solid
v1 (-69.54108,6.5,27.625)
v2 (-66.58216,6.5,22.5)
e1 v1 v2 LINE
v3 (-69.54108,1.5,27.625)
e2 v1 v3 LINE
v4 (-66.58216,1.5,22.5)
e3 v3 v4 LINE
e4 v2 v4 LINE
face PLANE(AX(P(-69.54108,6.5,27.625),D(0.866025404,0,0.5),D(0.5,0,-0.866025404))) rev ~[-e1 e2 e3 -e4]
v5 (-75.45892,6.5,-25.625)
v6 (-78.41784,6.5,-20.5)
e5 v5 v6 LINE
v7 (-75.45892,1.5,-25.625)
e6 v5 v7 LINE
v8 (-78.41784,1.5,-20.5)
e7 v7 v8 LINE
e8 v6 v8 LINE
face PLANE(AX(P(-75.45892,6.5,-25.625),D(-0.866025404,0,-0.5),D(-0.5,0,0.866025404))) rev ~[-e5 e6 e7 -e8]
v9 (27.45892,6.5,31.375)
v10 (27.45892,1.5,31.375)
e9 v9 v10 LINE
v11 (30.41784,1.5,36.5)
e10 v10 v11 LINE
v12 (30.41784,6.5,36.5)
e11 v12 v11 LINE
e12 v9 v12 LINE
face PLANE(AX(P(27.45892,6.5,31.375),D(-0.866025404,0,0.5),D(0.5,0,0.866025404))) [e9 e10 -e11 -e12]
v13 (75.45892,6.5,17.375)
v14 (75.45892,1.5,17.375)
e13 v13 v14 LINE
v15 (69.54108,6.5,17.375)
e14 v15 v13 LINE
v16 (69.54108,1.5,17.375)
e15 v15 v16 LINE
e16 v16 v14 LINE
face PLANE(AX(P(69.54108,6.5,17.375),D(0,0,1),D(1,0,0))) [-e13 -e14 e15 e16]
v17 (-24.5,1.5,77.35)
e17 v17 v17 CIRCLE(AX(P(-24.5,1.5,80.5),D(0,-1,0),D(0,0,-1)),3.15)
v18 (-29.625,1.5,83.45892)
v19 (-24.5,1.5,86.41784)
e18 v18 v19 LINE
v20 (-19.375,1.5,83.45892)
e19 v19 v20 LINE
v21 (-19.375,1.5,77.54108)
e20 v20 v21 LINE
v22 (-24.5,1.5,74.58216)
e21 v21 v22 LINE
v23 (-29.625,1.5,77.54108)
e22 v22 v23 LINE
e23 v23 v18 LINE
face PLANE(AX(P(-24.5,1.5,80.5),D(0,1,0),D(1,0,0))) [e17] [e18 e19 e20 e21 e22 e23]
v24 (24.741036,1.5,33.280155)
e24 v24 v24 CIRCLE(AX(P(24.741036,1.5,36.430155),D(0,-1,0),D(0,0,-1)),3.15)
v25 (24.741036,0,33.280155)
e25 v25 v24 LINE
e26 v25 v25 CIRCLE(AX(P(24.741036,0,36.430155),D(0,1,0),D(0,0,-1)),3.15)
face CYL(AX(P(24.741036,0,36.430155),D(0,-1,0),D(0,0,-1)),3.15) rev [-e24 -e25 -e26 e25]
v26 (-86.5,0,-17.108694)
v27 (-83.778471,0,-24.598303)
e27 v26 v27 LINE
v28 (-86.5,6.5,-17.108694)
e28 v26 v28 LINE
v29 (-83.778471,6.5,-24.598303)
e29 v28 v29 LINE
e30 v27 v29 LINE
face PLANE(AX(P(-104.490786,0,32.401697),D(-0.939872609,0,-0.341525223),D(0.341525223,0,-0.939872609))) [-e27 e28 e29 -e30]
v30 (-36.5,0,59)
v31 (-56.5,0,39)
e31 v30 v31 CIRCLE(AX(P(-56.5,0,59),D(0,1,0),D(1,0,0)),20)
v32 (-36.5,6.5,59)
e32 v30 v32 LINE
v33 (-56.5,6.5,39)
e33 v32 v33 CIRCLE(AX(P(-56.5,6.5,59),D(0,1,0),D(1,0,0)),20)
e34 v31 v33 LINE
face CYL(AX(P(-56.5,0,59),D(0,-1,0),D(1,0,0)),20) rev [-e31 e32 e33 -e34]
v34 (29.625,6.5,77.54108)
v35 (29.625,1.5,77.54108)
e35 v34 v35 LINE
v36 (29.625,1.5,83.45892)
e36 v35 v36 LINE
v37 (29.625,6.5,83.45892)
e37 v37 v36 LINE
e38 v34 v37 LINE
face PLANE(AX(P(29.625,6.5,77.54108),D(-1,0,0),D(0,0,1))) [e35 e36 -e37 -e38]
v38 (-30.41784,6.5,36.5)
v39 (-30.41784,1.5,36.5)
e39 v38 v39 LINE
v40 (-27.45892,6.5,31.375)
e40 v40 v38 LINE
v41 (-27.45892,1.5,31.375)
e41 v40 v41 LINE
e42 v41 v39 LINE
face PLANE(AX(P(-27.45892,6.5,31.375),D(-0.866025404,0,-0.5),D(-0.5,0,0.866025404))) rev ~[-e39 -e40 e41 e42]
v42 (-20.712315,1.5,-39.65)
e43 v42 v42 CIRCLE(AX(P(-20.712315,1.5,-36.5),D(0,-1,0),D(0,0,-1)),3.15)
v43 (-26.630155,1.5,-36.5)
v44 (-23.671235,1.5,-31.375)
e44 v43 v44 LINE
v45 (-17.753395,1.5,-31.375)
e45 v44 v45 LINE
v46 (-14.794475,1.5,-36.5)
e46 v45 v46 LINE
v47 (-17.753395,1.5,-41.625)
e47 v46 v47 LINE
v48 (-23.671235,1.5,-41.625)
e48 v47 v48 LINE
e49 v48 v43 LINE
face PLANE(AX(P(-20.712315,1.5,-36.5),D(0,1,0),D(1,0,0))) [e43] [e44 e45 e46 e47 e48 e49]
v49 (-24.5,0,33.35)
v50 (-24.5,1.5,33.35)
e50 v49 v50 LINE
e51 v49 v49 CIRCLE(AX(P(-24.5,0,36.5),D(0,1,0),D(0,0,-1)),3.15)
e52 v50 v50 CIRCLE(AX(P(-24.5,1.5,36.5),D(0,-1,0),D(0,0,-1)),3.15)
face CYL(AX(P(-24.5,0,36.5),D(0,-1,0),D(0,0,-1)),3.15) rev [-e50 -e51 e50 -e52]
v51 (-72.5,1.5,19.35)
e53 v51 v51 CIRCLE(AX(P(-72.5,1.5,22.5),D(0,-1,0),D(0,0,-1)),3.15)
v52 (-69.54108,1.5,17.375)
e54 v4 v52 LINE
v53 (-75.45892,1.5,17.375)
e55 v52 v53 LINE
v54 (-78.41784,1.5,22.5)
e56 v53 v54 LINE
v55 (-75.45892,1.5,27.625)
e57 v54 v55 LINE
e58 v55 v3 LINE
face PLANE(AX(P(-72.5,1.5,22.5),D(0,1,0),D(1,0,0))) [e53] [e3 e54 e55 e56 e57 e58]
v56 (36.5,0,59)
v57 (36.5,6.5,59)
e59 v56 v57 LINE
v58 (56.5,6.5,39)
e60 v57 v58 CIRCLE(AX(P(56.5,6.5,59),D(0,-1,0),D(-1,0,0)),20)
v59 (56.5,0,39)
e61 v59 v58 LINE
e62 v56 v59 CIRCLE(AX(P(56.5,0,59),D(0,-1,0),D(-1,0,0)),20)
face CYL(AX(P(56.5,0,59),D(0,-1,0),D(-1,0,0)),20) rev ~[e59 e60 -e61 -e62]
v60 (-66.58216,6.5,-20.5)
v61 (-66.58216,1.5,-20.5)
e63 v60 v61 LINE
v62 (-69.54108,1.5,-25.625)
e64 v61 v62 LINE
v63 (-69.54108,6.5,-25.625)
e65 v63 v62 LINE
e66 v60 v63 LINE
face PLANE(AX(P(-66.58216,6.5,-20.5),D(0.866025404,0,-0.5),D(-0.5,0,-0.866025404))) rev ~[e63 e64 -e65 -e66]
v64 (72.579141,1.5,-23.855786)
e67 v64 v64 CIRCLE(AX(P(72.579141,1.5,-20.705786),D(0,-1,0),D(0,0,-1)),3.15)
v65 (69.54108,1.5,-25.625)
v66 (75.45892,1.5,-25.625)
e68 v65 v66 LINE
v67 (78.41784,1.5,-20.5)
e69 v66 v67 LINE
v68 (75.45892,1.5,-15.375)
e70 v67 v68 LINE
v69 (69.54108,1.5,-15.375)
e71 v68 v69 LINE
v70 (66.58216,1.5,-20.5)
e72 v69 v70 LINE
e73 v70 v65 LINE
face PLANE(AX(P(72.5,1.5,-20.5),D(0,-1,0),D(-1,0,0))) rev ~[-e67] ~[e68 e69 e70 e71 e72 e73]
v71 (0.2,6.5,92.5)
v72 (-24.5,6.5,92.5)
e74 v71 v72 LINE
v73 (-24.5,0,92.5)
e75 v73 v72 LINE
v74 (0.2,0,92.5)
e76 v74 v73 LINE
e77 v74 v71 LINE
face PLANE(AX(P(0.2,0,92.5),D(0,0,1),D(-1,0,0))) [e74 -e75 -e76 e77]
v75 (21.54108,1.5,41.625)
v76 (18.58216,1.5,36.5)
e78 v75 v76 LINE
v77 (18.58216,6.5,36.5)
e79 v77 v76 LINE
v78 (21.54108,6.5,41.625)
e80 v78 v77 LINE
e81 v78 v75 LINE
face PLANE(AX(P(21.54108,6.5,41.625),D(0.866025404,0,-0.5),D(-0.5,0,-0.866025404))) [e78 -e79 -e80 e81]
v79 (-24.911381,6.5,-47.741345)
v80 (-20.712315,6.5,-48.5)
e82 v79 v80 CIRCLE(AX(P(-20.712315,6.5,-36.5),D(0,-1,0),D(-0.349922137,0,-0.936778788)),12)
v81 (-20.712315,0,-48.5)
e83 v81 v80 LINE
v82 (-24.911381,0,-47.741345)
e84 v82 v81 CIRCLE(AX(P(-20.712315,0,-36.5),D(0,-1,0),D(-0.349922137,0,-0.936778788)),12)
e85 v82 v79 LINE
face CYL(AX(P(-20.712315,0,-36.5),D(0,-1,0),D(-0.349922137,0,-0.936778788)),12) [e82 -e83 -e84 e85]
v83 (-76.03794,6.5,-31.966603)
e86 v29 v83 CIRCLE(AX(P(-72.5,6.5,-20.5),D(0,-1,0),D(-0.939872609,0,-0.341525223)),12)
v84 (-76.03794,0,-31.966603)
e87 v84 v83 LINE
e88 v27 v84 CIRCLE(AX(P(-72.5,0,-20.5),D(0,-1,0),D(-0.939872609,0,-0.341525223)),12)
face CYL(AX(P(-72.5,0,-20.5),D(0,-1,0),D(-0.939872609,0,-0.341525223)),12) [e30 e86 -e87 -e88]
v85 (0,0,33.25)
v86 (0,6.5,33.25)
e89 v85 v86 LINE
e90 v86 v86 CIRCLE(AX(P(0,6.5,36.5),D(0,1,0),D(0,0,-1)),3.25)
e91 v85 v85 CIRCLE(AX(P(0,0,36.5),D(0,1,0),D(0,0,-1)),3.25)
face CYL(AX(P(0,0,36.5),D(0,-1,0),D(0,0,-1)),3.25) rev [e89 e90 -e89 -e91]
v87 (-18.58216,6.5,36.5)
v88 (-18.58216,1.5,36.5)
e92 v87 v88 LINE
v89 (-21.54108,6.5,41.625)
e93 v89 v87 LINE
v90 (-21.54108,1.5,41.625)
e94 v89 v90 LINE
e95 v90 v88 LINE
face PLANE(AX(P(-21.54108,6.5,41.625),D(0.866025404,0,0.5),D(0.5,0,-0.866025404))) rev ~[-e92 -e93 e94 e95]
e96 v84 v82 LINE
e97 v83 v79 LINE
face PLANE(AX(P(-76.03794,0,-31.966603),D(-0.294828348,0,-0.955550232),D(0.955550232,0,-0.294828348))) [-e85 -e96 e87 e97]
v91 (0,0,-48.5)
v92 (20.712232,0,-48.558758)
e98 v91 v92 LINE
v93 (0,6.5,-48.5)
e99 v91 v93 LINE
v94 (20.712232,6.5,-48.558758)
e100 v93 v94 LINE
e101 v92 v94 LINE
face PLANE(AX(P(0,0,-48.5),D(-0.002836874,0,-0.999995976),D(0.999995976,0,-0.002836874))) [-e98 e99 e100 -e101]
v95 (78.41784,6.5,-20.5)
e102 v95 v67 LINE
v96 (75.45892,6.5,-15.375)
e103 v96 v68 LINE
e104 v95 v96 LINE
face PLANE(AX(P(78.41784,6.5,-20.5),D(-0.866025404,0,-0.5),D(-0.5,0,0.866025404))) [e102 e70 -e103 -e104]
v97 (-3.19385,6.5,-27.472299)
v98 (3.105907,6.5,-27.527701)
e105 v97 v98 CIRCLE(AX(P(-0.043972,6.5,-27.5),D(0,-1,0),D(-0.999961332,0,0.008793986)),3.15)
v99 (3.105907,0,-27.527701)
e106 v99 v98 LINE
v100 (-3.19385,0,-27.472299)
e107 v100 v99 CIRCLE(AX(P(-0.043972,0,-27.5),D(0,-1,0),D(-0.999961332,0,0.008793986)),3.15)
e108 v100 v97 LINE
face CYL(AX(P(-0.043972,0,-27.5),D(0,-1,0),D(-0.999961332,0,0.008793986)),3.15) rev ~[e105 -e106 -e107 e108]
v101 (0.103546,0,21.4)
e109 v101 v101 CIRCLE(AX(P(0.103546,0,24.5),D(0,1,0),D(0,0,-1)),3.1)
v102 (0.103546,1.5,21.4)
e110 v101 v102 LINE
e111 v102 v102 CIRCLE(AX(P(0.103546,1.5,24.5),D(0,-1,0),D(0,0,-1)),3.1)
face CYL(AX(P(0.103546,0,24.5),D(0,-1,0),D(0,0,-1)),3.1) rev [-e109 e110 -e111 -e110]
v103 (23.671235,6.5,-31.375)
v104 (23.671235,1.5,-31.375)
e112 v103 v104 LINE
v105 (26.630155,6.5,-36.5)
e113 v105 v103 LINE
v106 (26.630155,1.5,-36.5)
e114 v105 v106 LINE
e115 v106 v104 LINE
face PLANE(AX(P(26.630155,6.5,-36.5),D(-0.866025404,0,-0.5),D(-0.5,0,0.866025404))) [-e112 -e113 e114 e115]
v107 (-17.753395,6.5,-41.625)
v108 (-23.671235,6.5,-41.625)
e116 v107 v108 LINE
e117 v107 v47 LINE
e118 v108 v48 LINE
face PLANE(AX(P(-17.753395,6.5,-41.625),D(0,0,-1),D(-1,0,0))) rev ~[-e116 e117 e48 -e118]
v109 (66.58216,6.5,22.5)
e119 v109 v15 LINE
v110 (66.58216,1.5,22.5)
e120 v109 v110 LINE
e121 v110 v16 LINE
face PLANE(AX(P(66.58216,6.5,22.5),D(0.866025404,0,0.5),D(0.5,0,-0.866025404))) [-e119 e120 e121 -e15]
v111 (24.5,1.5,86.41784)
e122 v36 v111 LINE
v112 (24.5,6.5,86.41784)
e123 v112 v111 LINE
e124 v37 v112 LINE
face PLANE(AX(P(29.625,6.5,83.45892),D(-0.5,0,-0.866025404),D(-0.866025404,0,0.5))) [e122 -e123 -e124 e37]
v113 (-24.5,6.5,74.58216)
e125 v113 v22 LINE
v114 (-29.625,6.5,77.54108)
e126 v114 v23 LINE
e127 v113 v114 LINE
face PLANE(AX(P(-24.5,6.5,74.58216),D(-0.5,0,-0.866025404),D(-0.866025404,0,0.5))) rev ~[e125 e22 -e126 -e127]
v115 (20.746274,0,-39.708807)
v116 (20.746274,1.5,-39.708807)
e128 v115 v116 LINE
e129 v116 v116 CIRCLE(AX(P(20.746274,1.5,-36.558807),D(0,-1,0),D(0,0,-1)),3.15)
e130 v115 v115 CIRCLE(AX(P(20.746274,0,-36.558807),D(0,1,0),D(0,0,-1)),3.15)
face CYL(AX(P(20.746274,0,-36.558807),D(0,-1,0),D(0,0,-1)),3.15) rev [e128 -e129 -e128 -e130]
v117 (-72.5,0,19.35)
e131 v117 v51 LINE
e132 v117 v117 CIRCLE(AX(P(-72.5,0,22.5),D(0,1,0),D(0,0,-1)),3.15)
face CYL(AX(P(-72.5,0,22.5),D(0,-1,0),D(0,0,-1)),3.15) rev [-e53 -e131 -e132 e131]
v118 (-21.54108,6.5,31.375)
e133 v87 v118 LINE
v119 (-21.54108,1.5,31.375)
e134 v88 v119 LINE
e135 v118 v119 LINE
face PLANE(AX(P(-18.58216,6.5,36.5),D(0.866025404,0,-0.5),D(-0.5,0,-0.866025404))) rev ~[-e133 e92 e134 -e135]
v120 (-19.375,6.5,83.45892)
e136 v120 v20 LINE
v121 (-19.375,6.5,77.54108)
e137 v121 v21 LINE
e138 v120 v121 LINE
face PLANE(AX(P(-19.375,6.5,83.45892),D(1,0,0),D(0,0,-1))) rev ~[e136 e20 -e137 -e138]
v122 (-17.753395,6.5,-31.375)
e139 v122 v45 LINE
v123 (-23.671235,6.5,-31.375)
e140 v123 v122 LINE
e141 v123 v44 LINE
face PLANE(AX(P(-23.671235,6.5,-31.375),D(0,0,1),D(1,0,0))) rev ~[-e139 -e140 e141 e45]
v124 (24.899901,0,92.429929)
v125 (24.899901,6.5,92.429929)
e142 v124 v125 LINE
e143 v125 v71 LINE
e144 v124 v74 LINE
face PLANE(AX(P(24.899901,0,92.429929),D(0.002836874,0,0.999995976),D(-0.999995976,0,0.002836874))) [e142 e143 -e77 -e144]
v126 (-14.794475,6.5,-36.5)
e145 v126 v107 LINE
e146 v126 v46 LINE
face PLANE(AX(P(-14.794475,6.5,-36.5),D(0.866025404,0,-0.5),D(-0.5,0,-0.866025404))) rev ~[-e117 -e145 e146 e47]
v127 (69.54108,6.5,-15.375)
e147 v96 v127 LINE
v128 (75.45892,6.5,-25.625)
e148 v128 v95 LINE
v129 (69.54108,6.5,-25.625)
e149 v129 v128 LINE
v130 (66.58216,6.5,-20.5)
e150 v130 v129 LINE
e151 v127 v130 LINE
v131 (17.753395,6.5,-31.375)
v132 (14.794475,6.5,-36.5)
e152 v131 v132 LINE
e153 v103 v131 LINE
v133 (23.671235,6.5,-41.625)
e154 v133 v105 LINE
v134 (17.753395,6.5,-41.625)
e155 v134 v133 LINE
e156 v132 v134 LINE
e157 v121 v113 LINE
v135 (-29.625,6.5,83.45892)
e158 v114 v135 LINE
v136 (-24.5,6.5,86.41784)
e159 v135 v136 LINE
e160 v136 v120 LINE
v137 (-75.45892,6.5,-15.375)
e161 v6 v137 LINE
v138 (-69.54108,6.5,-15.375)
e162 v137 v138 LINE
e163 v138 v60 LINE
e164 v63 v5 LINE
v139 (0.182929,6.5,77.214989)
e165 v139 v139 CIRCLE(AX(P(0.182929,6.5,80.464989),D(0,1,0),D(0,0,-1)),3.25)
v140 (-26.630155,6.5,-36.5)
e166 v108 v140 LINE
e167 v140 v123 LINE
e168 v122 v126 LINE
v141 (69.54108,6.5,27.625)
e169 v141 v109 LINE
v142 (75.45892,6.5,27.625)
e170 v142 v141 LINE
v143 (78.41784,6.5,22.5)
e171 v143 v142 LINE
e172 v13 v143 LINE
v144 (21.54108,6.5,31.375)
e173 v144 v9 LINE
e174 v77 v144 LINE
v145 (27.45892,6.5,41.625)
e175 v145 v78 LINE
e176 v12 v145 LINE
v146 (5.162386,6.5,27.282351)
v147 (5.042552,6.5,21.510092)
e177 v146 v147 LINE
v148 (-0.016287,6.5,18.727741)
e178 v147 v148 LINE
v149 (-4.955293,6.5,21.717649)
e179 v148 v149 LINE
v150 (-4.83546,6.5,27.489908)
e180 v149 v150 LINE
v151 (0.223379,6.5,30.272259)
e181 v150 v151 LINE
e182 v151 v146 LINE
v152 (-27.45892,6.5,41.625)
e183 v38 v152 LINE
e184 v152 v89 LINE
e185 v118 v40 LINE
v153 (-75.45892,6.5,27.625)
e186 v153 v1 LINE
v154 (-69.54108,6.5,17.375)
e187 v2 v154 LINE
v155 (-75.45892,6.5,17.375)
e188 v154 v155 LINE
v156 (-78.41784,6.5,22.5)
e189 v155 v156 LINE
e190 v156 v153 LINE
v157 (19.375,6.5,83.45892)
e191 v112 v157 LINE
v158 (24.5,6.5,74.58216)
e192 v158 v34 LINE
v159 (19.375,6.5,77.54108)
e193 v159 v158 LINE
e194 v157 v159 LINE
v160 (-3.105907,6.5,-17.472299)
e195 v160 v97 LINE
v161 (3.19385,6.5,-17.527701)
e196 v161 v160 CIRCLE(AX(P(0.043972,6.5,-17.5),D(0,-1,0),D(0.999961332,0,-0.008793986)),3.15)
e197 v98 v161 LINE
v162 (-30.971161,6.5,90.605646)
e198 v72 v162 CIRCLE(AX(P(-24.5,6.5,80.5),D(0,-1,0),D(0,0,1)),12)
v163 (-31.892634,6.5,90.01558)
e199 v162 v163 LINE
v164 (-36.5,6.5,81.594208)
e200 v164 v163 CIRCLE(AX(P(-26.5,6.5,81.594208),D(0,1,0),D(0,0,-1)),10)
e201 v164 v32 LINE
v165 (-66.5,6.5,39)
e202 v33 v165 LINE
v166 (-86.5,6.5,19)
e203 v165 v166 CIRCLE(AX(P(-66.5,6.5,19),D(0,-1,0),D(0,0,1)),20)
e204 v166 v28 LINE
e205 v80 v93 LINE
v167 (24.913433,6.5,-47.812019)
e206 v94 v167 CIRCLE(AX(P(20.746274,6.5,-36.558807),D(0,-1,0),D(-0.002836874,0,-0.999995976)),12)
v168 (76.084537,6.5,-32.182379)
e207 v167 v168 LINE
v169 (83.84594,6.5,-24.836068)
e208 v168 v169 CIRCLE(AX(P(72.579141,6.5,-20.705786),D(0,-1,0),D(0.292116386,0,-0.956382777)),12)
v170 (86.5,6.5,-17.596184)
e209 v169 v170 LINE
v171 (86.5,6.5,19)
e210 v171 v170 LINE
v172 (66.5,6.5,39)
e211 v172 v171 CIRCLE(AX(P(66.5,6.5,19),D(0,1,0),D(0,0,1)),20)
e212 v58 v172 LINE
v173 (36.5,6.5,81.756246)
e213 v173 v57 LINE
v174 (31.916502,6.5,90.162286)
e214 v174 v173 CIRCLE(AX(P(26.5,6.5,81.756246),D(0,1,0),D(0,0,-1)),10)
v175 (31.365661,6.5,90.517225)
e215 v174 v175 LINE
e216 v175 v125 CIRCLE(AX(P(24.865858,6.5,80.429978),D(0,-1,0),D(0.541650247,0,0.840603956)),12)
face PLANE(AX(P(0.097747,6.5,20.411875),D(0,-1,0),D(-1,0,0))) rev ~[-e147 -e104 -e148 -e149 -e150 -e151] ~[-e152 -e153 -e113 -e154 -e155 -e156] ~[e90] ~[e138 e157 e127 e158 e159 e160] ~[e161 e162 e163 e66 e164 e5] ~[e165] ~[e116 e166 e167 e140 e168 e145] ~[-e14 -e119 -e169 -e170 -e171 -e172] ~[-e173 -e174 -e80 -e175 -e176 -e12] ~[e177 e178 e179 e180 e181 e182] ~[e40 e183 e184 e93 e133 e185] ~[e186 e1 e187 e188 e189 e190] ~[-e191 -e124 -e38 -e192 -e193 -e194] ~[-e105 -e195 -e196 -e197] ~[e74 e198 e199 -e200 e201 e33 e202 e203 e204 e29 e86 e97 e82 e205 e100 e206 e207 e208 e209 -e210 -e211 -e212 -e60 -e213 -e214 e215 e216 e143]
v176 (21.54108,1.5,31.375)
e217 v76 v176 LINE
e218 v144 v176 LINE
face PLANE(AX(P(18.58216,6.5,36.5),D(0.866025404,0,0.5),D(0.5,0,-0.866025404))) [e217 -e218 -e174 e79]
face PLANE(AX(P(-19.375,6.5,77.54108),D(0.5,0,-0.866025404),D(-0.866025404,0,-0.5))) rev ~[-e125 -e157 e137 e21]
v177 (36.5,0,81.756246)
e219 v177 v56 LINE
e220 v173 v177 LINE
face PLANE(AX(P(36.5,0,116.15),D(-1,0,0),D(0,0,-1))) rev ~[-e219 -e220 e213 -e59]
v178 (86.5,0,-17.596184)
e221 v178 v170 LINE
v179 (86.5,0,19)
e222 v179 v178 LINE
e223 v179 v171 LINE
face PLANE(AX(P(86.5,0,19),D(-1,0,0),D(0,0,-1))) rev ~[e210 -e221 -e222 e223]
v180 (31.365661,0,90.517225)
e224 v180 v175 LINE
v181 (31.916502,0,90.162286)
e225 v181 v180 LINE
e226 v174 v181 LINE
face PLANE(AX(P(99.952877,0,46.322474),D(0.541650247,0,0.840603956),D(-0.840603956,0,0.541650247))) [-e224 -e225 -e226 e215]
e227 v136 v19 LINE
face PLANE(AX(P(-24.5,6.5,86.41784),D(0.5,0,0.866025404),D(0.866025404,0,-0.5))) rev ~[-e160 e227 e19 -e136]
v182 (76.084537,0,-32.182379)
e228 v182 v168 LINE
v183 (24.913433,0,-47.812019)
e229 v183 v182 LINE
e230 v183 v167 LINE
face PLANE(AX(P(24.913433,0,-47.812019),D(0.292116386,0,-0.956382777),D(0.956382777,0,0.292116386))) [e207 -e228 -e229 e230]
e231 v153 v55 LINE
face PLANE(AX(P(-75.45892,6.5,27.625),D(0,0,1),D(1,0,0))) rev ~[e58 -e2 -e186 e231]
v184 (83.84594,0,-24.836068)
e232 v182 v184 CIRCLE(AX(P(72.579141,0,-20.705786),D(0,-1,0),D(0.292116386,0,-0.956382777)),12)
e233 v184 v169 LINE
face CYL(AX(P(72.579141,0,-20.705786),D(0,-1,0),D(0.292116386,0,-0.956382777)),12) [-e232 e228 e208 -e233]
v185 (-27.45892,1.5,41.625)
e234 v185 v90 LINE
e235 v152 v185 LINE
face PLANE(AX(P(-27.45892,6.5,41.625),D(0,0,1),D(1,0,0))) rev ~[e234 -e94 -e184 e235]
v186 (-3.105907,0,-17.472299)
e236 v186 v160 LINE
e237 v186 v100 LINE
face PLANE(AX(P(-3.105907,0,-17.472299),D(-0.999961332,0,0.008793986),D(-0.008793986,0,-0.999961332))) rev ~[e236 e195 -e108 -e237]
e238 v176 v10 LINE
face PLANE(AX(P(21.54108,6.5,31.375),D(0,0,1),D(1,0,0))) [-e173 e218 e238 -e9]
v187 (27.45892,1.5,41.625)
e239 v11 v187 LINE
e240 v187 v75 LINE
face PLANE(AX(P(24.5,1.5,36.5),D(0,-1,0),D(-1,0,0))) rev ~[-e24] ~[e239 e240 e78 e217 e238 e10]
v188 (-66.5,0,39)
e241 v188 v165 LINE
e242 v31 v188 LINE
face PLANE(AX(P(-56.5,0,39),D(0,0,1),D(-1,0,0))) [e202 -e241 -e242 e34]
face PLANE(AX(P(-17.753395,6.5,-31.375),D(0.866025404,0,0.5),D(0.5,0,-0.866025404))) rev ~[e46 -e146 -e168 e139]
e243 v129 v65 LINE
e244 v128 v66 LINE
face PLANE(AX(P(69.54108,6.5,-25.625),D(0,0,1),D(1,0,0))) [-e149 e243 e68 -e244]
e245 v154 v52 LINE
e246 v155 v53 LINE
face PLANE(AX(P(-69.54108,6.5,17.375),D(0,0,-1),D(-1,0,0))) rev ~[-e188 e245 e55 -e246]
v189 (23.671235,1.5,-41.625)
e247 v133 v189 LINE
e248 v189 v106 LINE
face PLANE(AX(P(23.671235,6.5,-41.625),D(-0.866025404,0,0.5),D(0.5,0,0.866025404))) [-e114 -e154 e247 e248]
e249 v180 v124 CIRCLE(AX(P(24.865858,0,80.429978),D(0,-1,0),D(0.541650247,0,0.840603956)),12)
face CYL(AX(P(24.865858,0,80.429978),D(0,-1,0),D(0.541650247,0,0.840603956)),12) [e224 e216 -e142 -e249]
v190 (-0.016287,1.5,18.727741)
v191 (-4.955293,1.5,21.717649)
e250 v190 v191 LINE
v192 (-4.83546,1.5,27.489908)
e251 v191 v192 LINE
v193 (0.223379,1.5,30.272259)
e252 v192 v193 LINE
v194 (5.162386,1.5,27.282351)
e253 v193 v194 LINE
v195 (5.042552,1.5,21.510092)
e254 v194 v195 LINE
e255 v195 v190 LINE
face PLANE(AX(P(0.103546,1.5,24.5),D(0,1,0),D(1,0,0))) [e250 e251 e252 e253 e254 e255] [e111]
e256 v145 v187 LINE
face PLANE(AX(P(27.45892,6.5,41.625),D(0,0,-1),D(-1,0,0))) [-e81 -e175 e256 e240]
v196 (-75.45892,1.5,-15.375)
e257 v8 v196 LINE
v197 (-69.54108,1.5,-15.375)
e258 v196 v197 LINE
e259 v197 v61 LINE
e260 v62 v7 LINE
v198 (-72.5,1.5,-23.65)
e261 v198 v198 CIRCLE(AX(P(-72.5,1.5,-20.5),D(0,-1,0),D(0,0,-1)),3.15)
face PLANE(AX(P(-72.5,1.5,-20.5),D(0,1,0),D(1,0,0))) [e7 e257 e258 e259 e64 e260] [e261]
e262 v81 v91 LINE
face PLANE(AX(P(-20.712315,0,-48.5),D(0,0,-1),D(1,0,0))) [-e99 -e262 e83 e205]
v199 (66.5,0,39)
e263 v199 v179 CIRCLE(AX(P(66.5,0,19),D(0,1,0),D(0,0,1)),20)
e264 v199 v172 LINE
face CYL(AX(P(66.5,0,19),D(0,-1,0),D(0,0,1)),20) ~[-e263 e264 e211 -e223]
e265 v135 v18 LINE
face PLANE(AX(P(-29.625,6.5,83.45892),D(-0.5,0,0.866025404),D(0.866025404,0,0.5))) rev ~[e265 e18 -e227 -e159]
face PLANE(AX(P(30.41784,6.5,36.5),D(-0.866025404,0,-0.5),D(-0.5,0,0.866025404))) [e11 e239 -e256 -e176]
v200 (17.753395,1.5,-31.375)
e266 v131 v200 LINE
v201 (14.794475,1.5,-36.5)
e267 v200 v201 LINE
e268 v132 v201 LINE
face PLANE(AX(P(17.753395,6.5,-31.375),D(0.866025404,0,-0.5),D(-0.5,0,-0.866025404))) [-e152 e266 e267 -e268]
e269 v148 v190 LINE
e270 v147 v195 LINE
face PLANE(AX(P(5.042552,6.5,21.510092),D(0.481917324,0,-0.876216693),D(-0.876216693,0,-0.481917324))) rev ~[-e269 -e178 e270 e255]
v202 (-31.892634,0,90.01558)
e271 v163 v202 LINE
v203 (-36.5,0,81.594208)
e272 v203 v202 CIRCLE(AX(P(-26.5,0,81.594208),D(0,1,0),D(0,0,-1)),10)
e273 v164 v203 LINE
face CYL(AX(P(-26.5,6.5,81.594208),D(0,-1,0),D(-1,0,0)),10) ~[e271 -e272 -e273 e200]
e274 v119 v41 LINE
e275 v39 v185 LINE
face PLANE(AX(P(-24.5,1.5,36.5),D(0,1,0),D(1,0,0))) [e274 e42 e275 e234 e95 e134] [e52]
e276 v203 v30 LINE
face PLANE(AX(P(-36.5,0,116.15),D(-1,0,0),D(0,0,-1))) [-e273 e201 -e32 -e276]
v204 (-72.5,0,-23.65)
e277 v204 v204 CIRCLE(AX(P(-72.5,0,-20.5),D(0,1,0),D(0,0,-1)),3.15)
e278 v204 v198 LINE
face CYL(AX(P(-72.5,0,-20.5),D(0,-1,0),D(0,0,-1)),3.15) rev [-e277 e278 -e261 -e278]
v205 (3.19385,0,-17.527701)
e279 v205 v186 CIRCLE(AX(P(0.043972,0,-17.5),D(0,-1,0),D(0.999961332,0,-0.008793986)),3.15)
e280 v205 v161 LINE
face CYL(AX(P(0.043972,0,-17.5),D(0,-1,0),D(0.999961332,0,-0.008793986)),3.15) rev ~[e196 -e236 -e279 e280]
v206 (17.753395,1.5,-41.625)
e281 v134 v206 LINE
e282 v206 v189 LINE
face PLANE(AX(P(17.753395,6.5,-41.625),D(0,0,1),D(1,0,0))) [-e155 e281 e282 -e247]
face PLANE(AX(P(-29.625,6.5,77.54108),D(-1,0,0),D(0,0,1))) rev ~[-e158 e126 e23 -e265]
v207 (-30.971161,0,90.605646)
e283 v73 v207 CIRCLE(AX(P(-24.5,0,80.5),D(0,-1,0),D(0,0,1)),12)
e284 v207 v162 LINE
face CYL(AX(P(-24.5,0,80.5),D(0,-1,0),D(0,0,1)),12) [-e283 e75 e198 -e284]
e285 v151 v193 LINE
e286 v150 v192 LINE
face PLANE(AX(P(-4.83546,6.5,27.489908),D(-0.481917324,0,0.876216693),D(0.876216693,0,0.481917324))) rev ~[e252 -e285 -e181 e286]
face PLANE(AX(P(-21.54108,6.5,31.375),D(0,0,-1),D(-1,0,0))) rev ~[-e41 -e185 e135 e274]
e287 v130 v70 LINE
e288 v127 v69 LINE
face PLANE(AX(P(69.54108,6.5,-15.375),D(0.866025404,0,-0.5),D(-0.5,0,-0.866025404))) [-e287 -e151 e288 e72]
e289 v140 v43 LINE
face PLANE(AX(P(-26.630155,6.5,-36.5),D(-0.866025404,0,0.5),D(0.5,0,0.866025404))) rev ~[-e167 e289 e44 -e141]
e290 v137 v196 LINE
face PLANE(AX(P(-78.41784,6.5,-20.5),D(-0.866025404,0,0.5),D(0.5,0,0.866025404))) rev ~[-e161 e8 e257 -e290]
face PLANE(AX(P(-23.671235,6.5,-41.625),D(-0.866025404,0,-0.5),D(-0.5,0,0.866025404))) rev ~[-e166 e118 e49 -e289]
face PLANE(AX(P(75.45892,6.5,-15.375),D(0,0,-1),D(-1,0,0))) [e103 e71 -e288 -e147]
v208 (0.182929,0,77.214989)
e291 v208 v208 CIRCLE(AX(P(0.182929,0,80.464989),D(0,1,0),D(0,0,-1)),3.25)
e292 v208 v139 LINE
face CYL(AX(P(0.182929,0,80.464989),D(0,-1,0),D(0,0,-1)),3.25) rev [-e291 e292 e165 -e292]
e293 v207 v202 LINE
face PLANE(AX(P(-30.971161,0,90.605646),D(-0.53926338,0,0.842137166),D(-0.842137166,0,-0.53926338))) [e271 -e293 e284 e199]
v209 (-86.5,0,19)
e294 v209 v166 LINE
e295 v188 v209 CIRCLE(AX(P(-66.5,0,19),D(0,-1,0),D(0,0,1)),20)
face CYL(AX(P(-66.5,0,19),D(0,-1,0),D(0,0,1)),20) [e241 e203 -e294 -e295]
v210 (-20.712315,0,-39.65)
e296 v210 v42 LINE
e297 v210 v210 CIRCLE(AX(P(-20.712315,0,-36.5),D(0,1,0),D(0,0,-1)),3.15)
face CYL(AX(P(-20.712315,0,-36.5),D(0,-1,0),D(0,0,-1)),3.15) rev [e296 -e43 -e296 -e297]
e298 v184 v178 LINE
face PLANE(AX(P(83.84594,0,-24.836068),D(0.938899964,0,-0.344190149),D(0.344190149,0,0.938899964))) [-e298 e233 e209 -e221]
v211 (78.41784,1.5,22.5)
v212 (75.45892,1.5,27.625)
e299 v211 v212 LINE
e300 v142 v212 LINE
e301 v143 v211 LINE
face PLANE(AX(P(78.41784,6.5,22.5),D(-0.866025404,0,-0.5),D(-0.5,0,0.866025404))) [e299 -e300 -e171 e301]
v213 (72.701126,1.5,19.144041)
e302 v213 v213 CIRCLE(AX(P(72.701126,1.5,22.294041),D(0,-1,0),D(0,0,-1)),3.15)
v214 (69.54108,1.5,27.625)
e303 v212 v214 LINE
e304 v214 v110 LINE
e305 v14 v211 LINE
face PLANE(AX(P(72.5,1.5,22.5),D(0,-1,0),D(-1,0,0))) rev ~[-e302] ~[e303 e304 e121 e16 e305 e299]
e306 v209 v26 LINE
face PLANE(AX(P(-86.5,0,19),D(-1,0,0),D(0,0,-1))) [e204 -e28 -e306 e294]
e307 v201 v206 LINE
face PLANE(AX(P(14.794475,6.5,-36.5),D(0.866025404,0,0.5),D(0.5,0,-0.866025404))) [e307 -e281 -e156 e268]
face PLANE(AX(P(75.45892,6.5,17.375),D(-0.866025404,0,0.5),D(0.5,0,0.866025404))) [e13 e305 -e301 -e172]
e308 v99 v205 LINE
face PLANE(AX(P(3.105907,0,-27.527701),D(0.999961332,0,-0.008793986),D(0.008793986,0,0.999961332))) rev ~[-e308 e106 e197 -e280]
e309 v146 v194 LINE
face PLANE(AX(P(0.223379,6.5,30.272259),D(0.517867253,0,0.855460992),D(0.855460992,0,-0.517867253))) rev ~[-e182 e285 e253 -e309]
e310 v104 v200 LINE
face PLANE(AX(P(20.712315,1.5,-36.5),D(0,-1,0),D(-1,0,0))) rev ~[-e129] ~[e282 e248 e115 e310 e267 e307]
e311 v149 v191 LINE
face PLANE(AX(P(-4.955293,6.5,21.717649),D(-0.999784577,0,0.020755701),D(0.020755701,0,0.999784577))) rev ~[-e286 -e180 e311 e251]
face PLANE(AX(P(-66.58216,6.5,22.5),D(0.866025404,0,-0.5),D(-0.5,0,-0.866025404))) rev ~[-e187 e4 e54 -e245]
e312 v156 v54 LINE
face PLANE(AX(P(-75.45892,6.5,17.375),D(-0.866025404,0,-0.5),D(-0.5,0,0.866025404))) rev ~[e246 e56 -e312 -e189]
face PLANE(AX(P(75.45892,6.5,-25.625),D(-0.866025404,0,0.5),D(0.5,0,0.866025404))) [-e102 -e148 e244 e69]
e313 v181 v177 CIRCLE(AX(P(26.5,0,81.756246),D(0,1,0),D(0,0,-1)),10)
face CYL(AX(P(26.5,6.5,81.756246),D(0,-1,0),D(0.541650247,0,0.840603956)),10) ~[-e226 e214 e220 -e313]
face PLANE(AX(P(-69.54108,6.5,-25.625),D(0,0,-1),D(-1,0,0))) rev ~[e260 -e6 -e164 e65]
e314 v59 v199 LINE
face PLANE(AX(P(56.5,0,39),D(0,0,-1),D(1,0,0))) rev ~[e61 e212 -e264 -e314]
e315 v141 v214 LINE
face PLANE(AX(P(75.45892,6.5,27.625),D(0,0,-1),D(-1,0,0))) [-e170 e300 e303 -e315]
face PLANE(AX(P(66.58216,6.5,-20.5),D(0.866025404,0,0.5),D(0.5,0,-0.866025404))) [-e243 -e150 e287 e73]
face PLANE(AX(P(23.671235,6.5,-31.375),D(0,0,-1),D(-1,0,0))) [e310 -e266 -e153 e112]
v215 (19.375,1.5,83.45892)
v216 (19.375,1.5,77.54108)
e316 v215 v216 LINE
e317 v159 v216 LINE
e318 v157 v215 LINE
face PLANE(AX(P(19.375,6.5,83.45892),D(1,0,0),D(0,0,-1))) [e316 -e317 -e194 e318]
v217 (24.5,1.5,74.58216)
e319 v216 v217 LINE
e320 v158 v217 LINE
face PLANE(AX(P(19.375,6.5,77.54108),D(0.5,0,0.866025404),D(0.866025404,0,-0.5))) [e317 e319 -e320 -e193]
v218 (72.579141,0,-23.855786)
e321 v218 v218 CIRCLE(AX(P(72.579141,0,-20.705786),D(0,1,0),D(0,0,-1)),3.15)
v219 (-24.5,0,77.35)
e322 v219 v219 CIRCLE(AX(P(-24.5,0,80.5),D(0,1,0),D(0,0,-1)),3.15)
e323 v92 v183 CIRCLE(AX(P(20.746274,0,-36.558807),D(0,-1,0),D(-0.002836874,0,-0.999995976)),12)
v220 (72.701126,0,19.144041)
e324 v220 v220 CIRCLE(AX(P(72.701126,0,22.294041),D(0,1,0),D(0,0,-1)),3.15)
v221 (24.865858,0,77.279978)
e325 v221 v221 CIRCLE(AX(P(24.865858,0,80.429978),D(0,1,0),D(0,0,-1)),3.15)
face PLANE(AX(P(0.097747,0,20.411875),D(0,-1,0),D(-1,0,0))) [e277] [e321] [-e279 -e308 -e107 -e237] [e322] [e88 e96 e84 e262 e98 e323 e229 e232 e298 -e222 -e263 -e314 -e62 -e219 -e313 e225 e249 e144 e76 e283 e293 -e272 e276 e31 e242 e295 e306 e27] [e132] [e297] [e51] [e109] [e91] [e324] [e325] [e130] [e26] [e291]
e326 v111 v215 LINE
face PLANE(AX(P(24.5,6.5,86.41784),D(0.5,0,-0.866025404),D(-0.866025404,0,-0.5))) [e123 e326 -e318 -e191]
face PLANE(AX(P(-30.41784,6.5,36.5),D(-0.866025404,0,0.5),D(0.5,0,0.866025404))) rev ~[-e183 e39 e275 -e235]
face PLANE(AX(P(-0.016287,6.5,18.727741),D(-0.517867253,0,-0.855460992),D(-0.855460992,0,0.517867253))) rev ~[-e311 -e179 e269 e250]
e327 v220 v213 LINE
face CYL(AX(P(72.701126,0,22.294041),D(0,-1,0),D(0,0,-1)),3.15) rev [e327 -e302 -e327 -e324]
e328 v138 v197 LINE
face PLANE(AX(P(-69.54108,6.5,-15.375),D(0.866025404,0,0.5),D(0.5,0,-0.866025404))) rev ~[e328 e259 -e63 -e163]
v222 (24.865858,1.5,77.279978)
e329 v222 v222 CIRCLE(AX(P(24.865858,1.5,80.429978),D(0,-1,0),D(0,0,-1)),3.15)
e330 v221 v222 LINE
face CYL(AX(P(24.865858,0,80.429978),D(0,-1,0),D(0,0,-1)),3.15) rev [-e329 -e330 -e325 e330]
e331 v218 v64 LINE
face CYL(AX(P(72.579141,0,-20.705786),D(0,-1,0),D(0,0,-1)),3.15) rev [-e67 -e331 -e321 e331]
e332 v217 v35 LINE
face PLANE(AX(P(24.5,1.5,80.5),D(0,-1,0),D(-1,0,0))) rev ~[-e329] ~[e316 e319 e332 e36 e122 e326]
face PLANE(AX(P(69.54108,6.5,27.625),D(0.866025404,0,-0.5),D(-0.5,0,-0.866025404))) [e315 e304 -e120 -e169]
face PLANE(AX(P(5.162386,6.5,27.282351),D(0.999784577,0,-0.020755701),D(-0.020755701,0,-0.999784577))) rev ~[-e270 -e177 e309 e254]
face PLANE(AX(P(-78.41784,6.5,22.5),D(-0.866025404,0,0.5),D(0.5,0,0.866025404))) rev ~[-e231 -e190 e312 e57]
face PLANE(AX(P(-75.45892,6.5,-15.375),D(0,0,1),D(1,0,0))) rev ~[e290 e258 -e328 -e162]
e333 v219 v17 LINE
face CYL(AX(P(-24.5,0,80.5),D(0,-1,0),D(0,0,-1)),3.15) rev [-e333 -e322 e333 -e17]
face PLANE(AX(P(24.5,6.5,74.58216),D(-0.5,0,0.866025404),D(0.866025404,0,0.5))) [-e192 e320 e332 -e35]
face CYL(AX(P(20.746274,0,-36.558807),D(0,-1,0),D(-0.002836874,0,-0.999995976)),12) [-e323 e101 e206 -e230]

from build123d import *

# Parameters (mm, degrees)
SKETCH2_R          = 3.15
SKETCH2_R_2        = 3.25
SKETCH2_R_3        = 3.1
MAINPLATE_DEPTH    = 6.5
PRESSFITNUTS_DEPTH = 5
CUT_EXTRUDE2_DEPTH = 6.5
FILLET2_R          = 10


with BuildPart() as part:
    # Sketch2 → MainPlate (new body)
    with BuildSketch(Plane(origin=(0, 0, 0), x_dir=(1, 0, 0), z_dir=(0, 1, 0))):
        with BuildLine():
            Line((24.899900609, -92.429929219), (0.2, -92.5))
            Line((0.2, -92.5), (-24.5, -92.5))
            ThreePointArc((-24.5, -92.5), (-27.871368271, -92.016678166), (-30.971160559, -90.605645997))
            Line((-30.971160559, -90.605645997), (-99.683475736, -46.605645997))
            ThreePointArc((-99.683475736, -46.605645997), (-104.578950448, -40.347025165), (-104.490786491, -32.401697323))
            Line((-104.490786491, -32.401697323), (-83.778471314, 24.598302677))
            ThreePointArc((-83.778471314, 24.598302677), (-80.773721892, 29.191692934), (-76.037940173, 31.966602781))
            Line((-76.037940173, 31.966602781), (-24.911380811, 47.741345462))
            ThreePointArc((-24.911380811, 47.741345462), (-22.845839779, 48.308813352), (-20.712315177, 48.5))
            Line((-20.712315177, 48.5), (0, 48.5))
            Line((0, 48.5), (20.712231832, 48.558758223))
            ThreePointArc((20.712231832, 48.558758223), (22.846290221, 48.373624884), (24.913432777, 47.812018957))
            Line((24.913432777, 47.812018957), (76.084537362, 32.182379345))
            ThreePointArc((76.084537362, 32.182379345), (80.828172093, 29.420915478), (83.845940292, 24.836067799))
            Line((83.845940292, 24.836067799), (104.719873926, -32.104944614))
            ThreePointArc((104.719873926, -32.104944614), (104.830577421, -40.049990373), (99.952877324, -46.322473865))
            Line((99.952877324, -46.322473865), (31.365661085, -90.517224974))
            ThreePointArc((31.365661085, -90.517224974), (28.26988419, -91.937045184), (24.899900609, -92.429929219))
        make_face()
        with Locations(Location((-72.5, 20.5, 0), (0, 0, 90))):
            Circle(SKETCH2_R, mode=Mode.SUBTRACT)
        with Locations(Location((-20.712315177, 36.5, 0), (0, 0, 90))):
            Circle(SKETCH2_R, mode=Mode.SUBTRACT)
        with Locations(Location((-93.212315177, -36.5, 0), (0, 0, 90))):
            Circle(SKETCH2_R, mode=Mode.SUBTRACT)
        with Locations(Location((-58.856157589, -58.5, 0), (0, 0, 90))):
            Circle(SKETCH2_R, mode=Mode.SUBTRACT)
        with Locations(Location((-24.5, -80.5, 0), (0, 0, 90))):
            Circle(SKETCH2_R, mode=Mode.SUBTRACT)
        with Locations(Location((-24.5, -36.5, 0), (0, 0, 90))):
            Circle(SKETCH2_R, mode=Mode.SUBTRACT)
        with Locations(Location((-72.5, -22.5, 0), (0, 0, 90))):
            Circle(SKETCH2_R, mode=Mode.SUBTRACT)
        with Locations(Location((24.74103568, -36.430154559, 0), (0, 0, 90))):
            Circle(SKETCH2_R, mode=Mode.SUBTRACT)
        with Locations(Location((24.865858124, -80.429977506, 0), (0, 0, 90))):
            Circle(SKETCH2_R, mode=Mode.SUBTRACT)
        with Locations(Location((59.159466244, -58.332601952, 0), (0, 0, 90))):
            Circle(SKETCH2_R, mode=Mode.SUBTRACT)
        with Locations(Location((93.453074364, -36.235226398, 0), (0, 0, 90))):
            Circle(SKETCH2_R, mode=Mode.SUBTRACT)
        with Locations(Location((72.701126299, -22.294040956, 0), (0, 0, 90))):
            Circle(SKETCH2_R, mode=Mode.SUBTRACT)
        with Locations(Location((72.579140729, 20.705786015, 0), (0, 0, 90))):
            Circle(SKETCH2_R, mode=Mode.SUBTRACT)
        with Locations(Location((20.746274317, 36.55880651, 0), (0, 0, 90))):
            Circle(SKETCH2_R, mode=Mode.SUBTRACT)
        with Locations(Location((0, -36.5, 0), (0, 0, 90))):
            Circle(SKETCH2_R_2, mode=Mode.SUBTRACT)
        with Locations(Location((0.182929062, -80.464988753, 0), (0, 0, 90))):
            Circle(SKETCH2_R_2, mode=Mode.SUBTRACT)
        with Locations(Location((0.103546099, -24.5, 0), (0, 0, 90))):
            Circle(SKETCH2_R_3, mode=Mode.SUBTRACT)
        with BuildLine():
            Line((3.105906565, 27.527701056), (3.193849827, 17.527701056))
            ThreePointArc((3.193849827, 17.527701056), (0.071672688, 14.350121804), (-3.105906565, 17.472298944))
            Line((-3.105906565, 17.472298944), (-3.193849827, 27.472298944))
            ThreePointArc((-3.193849827, 27.472298944), (-0.071672688, 30.649878196), (3.105906565, 27.527701056))
        make_face(mode=Mode.SUBTRACT)
    extrude(amount=MAINPLATE_DEPTH)

    # Sketch8 → PressFitNuts (cut)
    with BuildSketch(Plane(origin=(0, 6.5, 0), x_dir=(1, 0, 0), z_dir=(0, 1, 0))):
        Polygon((-4.835460238, -27.48990798), (0.223379197, -30.272258948), (5.162385534, -27.282350968), (5.042552437, -21.51009202), (-0.016286998, -18.727741052), (-4.955293335, -21.717649032), align=None)
        Polygon((-18.582159741, -36.5), (-21.54107987, -31.375), (-27.45892013, -31.375), (-30.417840259, -36.5), (-27.45892013, -41.625), (-21.54107987, -41.625), align=None)
        Polygon((-66.582159741, -22.5), (-69.54107987, -17.375), (-75.45892013, -17.375), (-78.417840259, -22.5), (-75.45892013, -27.625), (-69.54107987, -27.625), align=None)
        Polygon((-66.582159741, 20.5), (-69.54107987, 25.625), (-75.45892013, 25.625), (-78.417840259, 20.5), (-75.45892013, 15.375), (-69.54107987, 15.375), align=None)
        Polygon((-87.294474918, -36.5), (-90.253395048, -31.375), (-96.171235307, -31.375), (-99.130155436, -36.5), (-96.171235307, -41.625), (-90.253395048, -41.625), align=None)
        Polygon((-52.938317329, -58.5), (-55.897237459, -53.375), (-61.815077718, -53.375), (-64.773997848, -58.5), (-61.815077718, -63.625), (-55.897237459, -63.625), align=None)
        Polygon((-24.5, -74.582159741), (-29.625, -77.54107987), (-29.625, -83.45892013), (-24.5, -86.417840259), (-19.375, -83.45892013), (-19.375, -77.54107987), align=None)
        Polygon((-14.794474918, 36.5), (-17.753395048, 41.625), (-23.671235307, 41.625), (-26.630155436, 36.5), (-23.671235307, 31.375), (-17.753395048, 31.375), align=None)
        Polygon((17.753395048, 31.375), (14.794474918, 36.5), (17.753395048, 41.625), (23.671235307, 41.625), (26.630155436, 36.5), (23.671235307, 31.375), align=None)
        Polygon((19.375, -77.54107987), (24.5, -74.582159741), (29.625, -77.54107987), (29.625, -83.45892013), (24.5, -86.417840259), (19.375, -83.45892013), align=None)
        Polygon((55.897237459, -63.625), (52.938317329, -58.5), (55.897237459, -53.375), (61.815077718, -53.375), (64.773997848, -58.5), (61.815077718, -63.625), align=None)
        Polygon((90.253395048, -41.625), (87.294474918, -36.5), (90.253395048, -31.375), (96.171235307, -31.375), (99.130155436, -36.5), (96.171235307, -41.625), align=None)
        Polygon((69.54107987, 15.375), (66.582159741, 20.5), (69.54107987, 25.625), (75.45892013, 25.625), (78.417840259, 20.5), (75.45892013, 15.375), align=None)
        Polygon((69.54107987, -27.625), (66.582159741, -22.5), (69.54107987, -17.375), (75.45892013, -17.375), (78.417840259, -22.5), (75.45892013, -27.625), align=None)
        Polygon((21.54107987, -41.625), (18.582159741, -36.5), (21.54107987, -31.375), (27.45892013, -31.375), (30.417840259, -36.5), (27.45892013, -41.625), align=None)
    extrude(amount=-PRESSFITNUTS_DEPTH, mode=Mode.SUBTRACT)

    # Sketch11 → Cut-Extrude2 (cut)
    with BuildSketch(Plane(origin=(0, 0, 0), x_dir=(1, 0, 0), z_dir=(0, 1, 0))):
        with BuildLine():
            Line((-111.9, 4.5), (-111.9, -116.15))
            Line((-111.9, -116.15), (-86.5, -116.15))
            Line((-86.5, -116.15), (-36.5, -116.15))
            Line((-36.5, -116.15), (-36.5, -59))
            ThreePointArc((-36.5, -59), (-42.357864376, -44.857864376), (-56.5, -39))
            Line((-56.5, -39), (-66.5, -39))
            ThreePointArc((-66.5, -39), (-80.642135624, -33.142135624), (-86.5, -19))
            Line((-86.5, -19), (-86.5, 4.5))
            Line((-86.5, 4.5), (-86.5, 44.576396133))
            Line((-86.5, 44.576396133), (-111.9, 44.576396133))
            Line((-111.9, 44.576396133), (-111.9, 4.5))
        make_face()
        with BuildLine():
            Line((86.5, 4.5), (86.5, 44.576396133))
            Line((86.5, 44.576396133), (111.9, 44.576396133))
            Line((111.9, 44.576396133), (111.9, 4.5))
            Line((111.9, 4.5), (111.9, -116.15))
            Line((111.9, -116.15), (86.5, -116.15))
            Line((86.5, -116.15), (36.5, -116.15))
            Line((36.5, -116.15), (36.5, -59))
            ThreePointArc((36.5, -59), (42.357864376, -44.857864376), (56.5, -39))
            Line((56.5, -39), (66.5, -39))
            ThreePointArc((66.5, -39), (80.642135624, -33.142135624), (86.5, -19))
            Line((86.5, -19), (86.5, 4.5))
        make_face()
    extrude(amount=CUT_EXTRUDE2_DEPTH, mode=Mode.SUBTRACT)

    # Fillet2
    fillet2_edges = [part.edges().sort_by_distance(p)[0] for p in [
        (36.5, 3.25, 87.208870401),
        (-36.5, 3.25, 87.065248111),
    ]]
    fillet(fillet2_edges, radius=FILLET2_R)


solid = part.part
